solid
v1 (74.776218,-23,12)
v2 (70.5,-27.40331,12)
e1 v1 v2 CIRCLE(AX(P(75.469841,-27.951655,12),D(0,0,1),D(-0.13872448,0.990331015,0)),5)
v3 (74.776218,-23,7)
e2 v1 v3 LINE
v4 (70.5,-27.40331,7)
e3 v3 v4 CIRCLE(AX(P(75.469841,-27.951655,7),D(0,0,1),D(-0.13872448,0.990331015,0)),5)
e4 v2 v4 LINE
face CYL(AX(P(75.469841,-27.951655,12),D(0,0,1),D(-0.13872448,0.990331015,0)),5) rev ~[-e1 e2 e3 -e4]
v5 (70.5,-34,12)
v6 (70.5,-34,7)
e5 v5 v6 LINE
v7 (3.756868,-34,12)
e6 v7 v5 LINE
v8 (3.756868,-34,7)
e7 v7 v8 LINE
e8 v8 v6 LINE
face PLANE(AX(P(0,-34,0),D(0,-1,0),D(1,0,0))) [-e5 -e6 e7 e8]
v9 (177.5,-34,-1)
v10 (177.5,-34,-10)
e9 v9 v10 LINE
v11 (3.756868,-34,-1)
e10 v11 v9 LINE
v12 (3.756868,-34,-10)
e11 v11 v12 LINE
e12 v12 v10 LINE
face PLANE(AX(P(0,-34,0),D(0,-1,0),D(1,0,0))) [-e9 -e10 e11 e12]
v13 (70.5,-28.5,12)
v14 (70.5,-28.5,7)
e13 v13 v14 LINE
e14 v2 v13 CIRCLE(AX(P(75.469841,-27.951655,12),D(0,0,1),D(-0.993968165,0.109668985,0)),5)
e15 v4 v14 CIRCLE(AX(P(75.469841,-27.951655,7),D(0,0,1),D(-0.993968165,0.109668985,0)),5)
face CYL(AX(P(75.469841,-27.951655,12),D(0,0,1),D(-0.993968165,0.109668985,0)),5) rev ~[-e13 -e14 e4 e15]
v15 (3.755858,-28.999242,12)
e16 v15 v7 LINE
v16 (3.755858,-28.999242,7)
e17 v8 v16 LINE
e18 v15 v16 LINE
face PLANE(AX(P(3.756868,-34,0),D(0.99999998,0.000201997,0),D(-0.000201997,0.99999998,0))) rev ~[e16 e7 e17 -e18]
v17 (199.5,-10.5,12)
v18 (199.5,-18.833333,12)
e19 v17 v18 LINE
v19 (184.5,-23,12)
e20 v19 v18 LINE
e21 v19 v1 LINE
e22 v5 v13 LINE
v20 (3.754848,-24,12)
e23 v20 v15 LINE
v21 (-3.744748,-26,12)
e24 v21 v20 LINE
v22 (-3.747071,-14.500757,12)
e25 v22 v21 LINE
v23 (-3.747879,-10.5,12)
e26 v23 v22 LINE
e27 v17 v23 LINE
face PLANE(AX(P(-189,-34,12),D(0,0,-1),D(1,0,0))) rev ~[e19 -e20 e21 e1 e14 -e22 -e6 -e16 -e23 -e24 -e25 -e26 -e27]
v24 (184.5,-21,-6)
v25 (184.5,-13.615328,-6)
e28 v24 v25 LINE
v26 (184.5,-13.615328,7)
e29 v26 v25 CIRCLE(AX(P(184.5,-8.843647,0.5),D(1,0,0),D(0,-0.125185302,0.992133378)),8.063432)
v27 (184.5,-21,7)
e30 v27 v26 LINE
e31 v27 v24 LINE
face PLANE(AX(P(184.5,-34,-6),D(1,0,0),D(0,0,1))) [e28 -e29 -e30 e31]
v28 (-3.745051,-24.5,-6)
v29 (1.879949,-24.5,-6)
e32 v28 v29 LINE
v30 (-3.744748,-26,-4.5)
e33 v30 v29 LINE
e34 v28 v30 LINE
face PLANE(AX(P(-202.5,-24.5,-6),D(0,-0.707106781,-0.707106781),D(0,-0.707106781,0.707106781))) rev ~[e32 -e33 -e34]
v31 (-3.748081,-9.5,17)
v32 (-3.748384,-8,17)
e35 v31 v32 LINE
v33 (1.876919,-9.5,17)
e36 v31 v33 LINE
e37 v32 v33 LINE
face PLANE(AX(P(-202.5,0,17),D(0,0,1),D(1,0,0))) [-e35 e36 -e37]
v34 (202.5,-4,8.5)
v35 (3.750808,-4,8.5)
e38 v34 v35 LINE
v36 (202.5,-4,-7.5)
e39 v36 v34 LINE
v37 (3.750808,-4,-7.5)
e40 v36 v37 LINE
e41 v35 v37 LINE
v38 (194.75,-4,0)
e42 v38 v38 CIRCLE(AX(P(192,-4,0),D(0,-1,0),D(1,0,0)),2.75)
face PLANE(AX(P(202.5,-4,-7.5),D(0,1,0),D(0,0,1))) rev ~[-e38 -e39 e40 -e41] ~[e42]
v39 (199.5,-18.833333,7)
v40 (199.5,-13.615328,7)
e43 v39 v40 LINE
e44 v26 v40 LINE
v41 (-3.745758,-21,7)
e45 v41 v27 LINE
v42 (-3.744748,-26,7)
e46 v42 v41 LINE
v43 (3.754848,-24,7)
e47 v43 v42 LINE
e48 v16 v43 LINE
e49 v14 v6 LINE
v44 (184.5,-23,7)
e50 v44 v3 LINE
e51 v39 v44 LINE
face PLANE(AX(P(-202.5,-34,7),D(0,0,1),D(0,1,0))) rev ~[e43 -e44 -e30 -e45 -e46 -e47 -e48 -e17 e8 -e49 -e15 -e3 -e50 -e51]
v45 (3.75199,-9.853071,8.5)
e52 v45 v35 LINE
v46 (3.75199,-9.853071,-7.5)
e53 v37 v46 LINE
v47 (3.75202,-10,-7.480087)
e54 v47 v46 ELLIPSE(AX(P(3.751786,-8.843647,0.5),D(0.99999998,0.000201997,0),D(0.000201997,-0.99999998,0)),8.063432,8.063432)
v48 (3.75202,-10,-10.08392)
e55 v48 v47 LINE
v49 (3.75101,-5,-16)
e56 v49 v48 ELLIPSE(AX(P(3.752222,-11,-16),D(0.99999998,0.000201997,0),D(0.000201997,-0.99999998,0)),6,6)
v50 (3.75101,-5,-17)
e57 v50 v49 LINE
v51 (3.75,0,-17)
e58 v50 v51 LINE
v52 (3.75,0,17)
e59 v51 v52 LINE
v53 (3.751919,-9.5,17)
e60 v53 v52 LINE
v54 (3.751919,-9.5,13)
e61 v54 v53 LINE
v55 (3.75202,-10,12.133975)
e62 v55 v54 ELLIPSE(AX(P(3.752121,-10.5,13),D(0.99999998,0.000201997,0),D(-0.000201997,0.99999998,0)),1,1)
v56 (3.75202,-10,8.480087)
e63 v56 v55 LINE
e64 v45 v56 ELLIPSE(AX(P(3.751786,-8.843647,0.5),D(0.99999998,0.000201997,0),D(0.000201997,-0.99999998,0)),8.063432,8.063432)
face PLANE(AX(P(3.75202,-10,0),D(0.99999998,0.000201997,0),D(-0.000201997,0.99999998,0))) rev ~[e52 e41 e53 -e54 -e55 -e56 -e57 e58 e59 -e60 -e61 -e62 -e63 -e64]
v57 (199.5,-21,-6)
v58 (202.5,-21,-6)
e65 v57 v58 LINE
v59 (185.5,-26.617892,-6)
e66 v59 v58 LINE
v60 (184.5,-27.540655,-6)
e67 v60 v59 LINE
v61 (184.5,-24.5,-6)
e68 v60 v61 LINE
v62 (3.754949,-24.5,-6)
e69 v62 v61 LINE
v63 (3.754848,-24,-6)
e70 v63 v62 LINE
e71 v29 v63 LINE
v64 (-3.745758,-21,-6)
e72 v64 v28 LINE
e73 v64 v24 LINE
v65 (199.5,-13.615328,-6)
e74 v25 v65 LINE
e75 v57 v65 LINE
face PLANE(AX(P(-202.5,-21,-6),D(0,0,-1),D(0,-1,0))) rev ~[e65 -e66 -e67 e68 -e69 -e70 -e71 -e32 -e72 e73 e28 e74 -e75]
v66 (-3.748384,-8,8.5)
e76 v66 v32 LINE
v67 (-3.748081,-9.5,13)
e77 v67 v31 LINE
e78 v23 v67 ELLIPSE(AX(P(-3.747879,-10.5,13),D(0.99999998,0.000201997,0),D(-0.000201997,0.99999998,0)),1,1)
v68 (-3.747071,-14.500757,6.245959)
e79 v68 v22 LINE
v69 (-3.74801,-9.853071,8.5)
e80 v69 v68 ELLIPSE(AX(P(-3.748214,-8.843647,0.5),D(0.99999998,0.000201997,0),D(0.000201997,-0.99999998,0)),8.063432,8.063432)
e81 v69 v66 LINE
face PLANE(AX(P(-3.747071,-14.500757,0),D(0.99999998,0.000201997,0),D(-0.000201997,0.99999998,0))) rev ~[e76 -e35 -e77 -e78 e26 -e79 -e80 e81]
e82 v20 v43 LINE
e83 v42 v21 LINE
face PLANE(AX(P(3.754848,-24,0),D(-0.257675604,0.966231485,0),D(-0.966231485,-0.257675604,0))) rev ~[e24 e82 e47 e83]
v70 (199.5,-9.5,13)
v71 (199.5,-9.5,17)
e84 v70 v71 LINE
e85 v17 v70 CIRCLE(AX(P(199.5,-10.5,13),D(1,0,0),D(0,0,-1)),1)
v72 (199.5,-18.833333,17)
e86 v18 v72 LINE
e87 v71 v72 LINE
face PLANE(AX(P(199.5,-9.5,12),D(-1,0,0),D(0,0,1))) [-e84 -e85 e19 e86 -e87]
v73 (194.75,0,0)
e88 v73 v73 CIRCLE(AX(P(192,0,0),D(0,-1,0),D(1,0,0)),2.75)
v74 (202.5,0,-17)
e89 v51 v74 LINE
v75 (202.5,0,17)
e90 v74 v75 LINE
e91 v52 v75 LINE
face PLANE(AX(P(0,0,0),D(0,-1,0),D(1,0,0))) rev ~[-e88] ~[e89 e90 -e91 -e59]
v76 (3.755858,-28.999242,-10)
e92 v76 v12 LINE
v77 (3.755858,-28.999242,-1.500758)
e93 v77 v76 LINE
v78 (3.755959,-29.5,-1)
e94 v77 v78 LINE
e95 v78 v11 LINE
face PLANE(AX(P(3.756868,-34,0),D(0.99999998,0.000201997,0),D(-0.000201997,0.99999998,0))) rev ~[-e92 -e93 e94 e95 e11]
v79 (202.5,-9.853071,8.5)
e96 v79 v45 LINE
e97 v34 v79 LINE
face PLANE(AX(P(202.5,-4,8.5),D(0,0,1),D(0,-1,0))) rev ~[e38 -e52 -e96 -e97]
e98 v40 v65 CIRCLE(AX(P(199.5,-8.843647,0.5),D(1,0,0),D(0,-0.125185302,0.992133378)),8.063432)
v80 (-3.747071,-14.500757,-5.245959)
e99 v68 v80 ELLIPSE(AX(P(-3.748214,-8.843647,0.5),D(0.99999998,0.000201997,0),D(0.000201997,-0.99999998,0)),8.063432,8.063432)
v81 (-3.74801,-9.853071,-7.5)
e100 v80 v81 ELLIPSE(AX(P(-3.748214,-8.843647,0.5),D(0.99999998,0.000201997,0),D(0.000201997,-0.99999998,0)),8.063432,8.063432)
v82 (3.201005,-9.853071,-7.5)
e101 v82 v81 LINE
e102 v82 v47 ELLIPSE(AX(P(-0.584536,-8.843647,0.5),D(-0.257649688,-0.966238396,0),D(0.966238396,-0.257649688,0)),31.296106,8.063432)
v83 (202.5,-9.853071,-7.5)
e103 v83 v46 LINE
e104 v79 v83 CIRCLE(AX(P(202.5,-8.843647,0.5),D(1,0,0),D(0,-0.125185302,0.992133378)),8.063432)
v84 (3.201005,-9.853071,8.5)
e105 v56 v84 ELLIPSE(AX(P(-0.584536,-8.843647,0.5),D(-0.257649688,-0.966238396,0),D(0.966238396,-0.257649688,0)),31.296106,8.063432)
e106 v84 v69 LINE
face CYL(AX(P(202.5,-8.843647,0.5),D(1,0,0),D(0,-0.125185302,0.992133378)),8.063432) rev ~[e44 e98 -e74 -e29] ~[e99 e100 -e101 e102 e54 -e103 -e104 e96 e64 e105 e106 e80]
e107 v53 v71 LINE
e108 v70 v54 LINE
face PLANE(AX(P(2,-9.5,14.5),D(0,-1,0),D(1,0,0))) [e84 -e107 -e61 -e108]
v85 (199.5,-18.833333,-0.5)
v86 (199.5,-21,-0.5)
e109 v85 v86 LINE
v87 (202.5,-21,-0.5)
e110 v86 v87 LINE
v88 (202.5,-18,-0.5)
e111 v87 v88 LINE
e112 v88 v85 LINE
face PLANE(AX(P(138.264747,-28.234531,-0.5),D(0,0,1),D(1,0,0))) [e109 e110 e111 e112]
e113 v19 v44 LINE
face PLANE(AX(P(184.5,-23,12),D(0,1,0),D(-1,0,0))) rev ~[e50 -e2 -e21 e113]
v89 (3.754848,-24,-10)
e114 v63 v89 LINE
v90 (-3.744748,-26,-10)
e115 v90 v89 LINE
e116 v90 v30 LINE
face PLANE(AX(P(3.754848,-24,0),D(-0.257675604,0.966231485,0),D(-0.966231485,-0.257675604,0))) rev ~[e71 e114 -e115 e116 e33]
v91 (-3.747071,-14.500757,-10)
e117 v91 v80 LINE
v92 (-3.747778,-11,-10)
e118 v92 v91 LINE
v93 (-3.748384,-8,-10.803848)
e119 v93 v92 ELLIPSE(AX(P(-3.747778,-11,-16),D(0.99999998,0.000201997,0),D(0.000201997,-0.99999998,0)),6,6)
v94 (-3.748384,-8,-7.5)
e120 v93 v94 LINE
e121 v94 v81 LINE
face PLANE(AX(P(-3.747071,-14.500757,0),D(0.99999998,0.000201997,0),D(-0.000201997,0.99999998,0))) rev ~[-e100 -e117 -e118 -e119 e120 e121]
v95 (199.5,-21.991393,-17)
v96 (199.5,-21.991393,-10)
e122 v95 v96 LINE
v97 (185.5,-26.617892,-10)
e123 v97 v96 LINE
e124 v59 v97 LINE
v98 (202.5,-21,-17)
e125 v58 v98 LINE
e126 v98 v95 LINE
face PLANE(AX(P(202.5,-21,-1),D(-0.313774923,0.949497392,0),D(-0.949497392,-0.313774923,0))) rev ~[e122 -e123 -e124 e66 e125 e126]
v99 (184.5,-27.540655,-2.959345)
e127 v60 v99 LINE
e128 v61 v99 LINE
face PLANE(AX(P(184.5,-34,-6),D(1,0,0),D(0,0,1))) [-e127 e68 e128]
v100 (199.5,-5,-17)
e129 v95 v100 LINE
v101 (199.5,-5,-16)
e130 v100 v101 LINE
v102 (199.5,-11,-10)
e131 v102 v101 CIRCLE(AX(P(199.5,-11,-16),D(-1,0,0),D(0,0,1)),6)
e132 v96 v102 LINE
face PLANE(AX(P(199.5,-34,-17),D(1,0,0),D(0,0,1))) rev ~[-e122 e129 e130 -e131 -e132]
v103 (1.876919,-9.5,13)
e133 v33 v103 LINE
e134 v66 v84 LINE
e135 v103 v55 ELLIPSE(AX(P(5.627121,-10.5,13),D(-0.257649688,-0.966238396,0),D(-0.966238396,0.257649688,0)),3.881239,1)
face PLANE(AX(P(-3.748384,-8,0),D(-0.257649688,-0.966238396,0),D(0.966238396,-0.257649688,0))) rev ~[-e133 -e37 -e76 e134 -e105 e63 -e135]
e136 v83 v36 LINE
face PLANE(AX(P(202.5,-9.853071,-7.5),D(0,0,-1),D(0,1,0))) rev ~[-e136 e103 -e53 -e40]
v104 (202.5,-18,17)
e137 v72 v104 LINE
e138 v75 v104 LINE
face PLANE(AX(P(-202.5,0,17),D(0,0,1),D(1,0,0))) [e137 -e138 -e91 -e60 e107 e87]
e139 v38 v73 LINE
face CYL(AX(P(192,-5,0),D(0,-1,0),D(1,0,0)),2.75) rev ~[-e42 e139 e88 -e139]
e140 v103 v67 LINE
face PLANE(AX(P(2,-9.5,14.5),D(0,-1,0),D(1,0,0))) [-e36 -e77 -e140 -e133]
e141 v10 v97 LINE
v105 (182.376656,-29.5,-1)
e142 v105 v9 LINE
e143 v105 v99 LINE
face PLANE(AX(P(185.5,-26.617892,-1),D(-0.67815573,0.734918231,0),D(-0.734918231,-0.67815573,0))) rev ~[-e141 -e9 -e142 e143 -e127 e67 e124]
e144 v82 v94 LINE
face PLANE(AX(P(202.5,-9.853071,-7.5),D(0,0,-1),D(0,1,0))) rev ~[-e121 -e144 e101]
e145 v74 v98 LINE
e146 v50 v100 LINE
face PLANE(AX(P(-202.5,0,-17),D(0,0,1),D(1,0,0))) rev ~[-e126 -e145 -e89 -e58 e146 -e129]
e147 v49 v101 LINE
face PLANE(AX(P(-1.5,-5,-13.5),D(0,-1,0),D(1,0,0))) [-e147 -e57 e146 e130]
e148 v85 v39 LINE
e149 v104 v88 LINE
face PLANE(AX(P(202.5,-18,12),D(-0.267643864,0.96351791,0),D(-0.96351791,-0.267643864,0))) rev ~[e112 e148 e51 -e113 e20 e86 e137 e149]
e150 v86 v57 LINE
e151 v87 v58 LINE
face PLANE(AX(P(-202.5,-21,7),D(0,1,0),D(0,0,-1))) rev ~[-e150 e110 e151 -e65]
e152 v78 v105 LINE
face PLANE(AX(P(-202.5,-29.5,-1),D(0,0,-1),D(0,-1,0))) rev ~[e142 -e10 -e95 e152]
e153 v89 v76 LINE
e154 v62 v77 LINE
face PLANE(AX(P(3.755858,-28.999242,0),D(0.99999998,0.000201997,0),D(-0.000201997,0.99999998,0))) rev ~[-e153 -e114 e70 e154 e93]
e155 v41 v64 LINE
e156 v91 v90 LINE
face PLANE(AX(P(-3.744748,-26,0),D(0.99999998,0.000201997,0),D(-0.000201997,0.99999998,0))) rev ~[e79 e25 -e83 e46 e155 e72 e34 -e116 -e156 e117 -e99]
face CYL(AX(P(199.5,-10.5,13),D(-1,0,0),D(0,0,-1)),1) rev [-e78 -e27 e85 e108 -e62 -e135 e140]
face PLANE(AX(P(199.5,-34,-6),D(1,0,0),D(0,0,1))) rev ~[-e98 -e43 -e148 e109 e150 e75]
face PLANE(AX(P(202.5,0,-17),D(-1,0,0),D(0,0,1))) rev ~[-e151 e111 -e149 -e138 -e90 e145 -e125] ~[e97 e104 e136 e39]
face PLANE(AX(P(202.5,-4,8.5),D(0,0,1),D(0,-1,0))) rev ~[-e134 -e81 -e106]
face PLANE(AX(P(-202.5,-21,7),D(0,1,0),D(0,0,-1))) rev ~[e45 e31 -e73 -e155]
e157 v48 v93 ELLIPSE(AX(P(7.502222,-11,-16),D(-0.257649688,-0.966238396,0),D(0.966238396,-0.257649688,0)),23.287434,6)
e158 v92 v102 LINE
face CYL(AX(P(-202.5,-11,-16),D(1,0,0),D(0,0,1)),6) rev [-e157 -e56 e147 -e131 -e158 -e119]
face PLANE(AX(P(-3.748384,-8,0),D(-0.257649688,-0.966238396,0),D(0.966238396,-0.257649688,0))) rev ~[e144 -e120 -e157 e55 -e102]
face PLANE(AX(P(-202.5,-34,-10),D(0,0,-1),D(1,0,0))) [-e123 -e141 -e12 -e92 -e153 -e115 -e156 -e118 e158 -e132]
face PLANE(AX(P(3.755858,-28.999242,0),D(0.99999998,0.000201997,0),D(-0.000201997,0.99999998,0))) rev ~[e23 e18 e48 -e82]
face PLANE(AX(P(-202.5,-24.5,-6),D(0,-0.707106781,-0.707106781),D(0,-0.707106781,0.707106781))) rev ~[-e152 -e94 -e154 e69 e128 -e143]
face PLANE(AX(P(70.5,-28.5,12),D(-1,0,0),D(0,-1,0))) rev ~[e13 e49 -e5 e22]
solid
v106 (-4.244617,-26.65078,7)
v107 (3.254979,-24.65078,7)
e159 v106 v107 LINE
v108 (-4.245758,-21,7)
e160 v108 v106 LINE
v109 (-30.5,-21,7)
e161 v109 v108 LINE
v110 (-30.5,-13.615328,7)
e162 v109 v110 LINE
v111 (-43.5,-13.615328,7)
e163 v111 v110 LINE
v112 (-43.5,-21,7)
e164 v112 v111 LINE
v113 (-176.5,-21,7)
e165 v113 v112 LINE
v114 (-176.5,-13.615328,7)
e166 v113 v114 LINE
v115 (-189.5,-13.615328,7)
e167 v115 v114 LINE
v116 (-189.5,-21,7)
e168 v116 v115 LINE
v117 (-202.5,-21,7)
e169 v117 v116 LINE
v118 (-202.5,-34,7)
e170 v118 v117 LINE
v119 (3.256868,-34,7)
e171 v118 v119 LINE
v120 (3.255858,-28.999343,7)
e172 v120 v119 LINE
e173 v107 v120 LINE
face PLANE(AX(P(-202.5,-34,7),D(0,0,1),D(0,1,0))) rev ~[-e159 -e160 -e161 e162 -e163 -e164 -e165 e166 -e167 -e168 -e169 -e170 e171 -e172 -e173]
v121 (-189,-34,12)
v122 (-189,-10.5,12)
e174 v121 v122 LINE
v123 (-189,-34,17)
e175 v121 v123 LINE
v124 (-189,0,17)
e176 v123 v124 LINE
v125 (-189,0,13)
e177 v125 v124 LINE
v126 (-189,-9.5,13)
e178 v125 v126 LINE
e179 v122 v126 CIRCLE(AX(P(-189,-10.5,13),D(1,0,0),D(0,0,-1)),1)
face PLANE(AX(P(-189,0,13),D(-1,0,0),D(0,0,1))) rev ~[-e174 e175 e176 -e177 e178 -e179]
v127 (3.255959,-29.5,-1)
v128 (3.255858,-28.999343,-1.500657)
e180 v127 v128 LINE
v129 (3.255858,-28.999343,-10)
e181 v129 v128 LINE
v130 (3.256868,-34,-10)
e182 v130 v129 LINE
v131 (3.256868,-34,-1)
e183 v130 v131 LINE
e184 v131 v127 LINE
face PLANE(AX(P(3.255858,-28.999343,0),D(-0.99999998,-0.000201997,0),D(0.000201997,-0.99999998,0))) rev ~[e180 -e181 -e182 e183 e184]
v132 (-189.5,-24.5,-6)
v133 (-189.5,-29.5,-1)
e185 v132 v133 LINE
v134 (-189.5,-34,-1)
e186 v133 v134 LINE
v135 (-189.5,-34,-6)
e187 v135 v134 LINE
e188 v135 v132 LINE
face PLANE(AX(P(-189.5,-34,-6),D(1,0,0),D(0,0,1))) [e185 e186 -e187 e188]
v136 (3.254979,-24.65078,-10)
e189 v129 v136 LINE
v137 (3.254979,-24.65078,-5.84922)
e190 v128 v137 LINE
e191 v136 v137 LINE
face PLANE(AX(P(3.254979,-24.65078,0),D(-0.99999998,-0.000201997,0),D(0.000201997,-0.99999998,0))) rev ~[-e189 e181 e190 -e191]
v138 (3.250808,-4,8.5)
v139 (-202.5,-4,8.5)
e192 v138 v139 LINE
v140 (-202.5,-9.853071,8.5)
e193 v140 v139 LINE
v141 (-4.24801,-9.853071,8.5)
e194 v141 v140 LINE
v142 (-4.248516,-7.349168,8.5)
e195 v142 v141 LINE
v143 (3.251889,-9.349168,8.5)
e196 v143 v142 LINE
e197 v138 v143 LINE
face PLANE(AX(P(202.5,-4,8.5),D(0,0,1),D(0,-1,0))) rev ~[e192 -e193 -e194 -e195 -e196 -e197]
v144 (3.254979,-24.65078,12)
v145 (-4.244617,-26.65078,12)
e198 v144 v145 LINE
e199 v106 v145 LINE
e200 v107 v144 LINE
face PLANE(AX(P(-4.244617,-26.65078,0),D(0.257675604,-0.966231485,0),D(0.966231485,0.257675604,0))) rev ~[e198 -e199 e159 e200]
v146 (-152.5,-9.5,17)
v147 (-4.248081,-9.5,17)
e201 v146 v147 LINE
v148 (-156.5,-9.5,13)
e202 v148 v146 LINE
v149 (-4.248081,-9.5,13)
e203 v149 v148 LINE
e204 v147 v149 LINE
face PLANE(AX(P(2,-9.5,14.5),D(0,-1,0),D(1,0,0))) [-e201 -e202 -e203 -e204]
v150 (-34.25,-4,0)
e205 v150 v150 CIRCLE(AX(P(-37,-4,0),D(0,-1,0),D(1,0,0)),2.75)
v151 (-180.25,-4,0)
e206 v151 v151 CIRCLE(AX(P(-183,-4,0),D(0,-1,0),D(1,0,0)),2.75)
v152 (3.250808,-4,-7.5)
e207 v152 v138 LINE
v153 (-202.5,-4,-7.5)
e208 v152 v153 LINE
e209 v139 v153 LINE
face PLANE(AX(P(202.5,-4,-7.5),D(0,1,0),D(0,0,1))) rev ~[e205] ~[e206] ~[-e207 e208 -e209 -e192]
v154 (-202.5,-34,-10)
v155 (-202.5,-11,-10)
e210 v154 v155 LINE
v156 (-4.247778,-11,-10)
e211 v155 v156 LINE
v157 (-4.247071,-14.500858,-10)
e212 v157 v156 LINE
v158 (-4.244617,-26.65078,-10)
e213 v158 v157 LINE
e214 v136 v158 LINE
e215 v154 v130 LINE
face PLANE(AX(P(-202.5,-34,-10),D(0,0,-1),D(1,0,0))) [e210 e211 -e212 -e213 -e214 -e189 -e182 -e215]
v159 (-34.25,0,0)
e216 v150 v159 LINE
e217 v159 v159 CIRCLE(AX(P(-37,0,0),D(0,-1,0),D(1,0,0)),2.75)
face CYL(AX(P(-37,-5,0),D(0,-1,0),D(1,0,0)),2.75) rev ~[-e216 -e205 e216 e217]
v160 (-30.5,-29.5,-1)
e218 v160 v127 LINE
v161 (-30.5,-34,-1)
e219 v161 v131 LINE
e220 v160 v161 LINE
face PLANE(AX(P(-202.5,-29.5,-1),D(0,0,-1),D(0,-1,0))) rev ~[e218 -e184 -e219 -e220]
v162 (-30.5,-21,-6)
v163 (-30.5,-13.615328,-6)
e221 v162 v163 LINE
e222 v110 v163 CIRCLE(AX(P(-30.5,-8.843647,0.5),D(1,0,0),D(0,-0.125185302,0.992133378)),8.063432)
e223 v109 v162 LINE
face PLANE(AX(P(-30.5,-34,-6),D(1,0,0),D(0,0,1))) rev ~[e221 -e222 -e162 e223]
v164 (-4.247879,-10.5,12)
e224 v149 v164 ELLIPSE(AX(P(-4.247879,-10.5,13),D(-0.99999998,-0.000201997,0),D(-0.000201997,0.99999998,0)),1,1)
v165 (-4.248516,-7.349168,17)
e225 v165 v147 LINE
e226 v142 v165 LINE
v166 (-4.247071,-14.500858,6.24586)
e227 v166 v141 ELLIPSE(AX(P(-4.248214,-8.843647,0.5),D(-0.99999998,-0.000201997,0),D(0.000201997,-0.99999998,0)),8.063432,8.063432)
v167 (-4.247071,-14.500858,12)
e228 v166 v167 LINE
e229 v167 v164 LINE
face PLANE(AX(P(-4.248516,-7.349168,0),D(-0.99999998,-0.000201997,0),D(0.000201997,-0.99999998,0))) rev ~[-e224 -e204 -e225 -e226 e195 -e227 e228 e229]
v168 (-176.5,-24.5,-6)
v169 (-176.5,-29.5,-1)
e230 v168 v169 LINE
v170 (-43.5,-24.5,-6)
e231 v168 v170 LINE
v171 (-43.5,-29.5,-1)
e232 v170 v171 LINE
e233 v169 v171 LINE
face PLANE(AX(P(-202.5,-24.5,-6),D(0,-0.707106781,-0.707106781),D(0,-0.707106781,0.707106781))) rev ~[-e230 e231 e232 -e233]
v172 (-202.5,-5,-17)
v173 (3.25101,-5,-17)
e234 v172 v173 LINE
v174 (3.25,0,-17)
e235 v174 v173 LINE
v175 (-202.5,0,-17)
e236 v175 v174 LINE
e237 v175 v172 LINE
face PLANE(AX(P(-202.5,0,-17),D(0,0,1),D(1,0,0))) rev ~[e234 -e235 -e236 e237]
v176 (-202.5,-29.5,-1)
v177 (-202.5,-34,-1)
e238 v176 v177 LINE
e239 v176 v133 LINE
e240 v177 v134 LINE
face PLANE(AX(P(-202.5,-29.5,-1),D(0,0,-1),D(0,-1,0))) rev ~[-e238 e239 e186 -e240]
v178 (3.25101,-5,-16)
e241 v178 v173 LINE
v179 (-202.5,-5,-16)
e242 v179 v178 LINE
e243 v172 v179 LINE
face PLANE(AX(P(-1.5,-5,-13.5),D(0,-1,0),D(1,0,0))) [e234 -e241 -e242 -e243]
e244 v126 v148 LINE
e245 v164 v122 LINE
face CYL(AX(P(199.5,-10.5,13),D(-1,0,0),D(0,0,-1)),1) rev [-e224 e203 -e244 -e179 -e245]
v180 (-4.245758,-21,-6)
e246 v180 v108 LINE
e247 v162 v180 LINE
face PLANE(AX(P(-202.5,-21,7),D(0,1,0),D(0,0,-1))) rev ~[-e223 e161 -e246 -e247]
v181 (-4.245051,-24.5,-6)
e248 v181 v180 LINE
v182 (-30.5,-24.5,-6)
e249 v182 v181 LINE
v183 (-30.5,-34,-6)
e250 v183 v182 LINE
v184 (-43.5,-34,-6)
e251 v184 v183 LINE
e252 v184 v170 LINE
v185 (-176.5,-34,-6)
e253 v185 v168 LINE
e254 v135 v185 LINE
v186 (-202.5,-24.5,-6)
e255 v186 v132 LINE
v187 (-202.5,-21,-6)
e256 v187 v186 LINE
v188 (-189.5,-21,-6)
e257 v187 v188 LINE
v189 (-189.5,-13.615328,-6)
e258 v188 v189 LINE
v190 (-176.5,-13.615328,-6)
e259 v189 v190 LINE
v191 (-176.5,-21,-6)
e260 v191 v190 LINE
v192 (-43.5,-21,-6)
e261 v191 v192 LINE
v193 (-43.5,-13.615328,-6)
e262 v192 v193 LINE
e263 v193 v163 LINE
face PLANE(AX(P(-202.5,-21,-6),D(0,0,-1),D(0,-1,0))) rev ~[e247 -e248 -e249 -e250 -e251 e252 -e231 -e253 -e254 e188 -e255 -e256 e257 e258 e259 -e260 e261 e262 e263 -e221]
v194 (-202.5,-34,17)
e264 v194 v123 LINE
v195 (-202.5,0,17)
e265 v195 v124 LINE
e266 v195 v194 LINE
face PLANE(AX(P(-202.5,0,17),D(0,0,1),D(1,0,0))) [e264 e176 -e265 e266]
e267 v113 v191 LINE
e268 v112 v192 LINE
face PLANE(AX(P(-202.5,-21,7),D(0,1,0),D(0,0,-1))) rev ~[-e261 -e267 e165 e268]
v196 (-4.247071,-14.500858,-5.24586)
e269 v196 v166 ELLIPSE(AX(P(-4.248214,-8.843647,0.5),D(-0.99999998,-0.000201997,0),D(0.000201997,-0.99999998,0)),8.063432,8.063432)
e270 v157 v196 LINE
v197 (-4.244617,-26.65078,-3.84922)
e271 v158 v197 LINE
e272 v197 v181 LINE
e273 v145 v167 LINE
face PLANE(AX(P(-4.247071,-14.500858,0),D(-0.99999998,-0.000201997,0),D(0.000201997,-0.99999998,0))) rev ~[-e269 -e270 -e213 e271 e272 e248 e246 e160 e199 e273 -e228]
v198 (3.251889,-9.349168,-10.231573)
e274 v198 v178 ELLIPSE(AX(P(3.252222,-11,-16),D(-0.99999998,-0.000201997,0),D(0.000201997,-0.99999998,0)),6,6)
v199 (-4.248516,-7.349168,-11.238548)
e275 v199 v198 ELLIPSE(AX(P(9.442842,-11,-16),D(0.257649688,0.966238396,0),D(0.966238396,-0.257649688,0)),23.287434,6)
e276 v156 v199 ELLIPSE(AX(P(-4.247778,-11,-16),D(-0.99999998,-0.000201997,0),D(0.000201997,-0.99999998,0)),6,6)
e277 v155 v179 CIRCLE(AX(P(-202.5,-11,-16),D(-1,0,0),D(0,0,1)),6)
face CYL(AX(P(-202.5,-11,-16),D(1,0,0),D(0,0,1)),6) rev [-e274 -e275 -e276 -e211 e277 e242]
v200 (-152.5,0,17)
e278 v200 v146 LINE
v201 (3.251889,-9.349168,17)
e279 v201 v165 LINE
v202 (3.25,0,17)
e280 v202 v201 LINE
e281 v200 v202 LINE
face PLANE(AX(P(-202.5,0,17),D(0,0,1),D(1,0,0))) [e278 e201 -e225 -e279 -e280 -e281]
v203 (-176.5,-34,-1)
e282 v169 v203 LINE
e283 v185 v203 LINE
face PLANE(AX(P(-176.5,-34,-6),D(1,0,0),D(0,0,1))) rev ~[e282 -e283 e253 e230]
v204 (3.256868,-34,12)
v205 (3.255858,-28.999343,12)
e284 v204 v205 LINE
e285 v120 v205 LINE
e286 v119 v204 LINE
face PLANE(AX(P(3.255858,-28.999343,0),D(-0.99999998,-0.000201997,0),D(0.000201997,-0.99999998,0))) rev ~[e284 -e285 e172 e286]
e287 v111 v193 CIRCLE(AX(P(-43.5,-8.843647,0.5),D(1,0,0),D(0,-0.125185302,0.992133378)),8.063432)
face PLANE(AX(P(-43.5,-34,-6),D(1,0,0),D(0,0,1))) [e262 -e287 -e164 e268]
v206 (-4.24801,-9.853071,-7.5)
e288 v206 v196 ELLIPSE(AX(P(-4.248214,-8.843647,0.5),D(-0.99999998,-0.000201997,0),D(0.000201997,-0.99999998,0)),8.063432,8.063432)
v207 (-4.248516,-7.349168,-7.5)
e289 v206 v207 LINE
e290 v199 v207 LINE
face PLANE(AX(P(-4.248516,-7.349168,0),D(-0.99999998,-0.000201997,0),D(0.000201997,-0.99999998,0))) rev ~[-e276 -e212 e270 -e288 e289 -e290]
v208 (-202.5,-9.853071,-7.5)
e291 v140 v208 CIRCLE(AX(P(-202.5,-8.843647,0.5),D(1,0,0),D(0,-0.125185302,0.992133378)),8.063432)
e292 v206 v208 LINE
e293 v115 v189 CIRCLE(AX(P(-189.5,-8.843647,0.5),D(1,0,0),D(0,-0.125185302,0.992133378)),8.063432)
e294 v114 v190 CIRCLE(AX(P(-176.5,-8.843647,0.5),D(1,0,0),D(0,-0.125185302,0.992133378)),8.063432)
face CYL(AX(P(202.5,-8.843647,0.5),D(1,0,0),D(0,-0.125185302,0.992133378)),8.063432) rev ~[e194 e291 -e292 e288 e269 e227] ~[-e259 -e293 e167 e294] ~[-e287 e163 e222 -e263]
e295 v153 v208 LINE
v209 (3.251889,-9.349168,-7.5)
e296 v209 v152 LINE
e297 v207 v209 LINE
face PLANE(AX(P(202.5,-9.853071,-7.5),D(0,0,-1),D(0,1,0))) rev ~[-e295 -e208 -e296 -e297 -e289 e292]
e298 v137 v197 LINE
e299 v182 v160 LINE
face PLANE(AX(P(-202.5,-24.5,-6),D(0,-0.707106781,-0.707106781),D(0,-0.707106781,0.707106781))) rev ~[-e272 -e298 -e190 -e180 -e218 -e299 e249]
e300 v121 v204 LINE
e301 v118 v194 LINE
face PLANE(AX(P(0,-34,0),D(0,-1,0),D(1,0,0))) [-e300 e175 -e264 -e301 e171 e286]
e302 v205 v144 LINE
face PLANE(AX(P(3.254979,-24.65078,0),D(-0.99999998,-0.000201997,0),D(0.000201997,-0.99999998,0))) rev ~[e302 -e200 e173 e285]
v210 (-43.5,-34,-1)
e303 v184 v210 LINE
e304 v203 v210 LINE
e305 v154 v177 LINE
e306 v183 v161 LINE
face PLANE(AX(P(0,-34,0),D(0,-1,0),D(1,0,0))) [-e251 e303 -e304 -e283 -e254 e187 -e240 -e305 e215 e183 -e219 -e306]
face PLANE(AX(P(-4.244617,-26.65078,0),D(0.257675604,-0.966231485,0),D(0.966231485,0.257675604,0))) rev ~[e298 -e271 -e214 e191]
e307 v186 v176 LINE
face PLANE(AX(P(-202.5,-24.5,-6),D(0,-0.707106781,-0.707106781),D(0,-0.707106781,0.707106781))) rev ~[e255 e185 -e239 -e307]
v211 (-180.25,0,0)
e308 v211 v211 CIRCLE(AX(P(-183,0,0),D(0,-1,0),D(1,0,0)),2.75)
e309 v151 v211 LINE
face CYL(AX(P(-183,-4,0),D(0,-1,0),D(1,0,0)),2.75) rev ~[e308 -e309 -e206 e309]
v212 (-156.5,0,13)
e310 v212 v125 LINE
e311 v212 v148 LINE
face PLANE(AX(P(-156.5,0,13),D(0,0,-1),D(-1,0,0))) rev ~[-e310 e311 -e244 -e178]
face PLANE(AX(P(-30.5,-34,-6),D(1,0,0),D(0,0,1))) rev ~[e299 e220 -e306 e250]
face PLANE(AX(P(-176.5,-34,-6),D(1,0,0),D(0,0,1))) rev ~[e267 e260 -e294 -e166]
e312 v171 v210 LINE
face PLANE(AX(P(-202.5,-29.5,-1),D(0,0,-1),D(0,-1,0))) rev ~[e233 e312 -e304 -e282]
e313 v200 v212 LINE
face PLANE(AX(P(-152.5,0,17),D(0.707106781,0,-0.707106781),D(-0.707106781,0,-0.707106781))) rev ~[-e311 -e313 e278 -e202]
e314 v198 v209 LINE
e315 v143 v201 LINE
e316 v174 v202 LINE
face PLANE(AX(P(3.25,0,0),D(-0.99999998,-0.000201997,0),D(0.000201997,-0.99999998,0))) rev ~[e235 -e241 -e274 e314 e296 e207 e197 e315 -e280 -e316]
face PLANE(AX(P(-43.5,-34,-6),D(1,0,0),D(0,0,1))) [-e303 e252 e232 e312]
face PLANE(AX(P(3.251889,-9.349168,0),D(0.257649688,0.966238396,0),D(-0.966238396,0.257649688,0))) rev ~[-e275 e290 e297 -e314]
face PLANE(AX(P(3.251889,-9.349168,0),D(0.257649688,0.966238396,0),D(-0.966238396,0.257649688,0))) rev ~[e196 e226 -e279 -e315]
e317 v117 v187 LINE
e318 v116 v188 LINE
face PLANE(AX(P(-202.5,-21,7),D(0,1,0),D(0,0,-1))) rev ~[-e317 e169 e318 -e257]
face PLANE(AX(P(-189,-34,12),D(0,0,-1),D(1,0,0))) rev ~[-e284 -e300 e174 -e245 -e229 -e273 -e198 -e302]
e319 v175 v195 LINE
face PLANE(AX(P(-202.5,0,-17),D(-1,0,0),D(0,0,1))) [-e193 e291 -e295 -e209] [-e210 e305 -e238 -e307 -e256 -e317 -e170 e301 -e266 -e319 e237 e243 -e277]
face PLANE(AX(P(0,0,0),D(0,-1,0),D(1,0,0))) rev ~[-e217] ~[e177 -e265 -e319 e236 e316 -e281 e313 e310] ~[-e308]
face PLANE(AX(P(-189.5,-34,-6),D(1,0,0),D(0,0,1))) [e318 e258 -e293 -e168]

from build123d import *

# Parameters (mm, degrees)
F0_W      = 405
F0_H      = 34
F1_DEPTH  = 34
F2_W      = 402
F2_H      = 7
F3_DEPTH  = 29
F4_W      = 382
F4_H      = 5
F5_DEPTH  = 24.5
F6_R      = 6
F8_DEPTH  = 405.001
F10_DEPTH = 34.001
F11_W     = 13
F11_H     = 13
F12_DEPTH = 30
F13_R     = 2.75
F14_DEPTH = 4.001
F15_W     = 13
F15_H     = 13
F16_DEPTH = 29
F17_R     = 2.75
F18_DEPTH = 5.001
F19_W     = 15
F19_H     = 13
F20_DEPTH = 29
F21_R     = 2.75
F22_DEPTH = 5.001
F24_DEPTH = 12.5
F26_DEPTH = 25
F27_W     = 6.5
F27_H     = 5
F28_DEPTH = 25
F29_R     = 1
F31_DEPTH = 405.001
F33_DEPTH = 17.5


with BuildPart() as f1:
    # F0 (on Front) → F1 (new body)
    with BuildSketch(Plane.XZ):
        Rectangle(F0_W, F0_H)
    extrude(amount=F1_DEPTH)

    # F2 (on face) → F3 (cut)
    with BuildSketch(Plane.XZ.offset(34)):
        with Locations((-1.5, -13.5)):
            Rectangle(F2_W, F2_H)
    extrude(amount=-F3_DEPTH, mode=Mode.SUBTRACT)

    # F4 (on face) → F5 (cut)
    with BuildSketch(Plane.XZ.offset(34)):
        with Locations((2, 14.5)):
            Rectangle(F4_W, F4_H)
    extrude(amount=-F5_DEPTH, mode=Mode.SUBTRACT)

    # F6
    f6_edges = [f1.edges().sort_by_distance(p)[0] for p in [
        (-1.5, -5, -10),
    ]]
    fillet(f6_edges, radius=F6_R)

    # F7 (on face) → F8 (cut, through all)
    with BuildSketch(Plane(origin=(-202.5, 0, 0), x_dir=(0, -1, 0), z_dir=(-1, 0, 0))):
        Polygon((34, -1), (34, 7), (21, 7), (21, -6), (24.5, -6), (29.5, -1), align=None)
    extrude(amount=-F8_DEPTH, mode=Mode.SUBTRACT)

    # F9 (on face) → F10 (cut, through all)
    with BuildSketch(Plane(origin=(0, 0, 0), x_dir=(-1, 0, 0), z_dir=(0, 1, 0))):
        Polygon((189, 13), (189, 17), (155.211314559, 17), (152.5, 17), (156.5, 13), align=None)
    extrude(amount=-F10_DEPTH, mode=Mode.SUBTRACT)

    # F11 (on face) → F12 (cut)
    with BuildSketch(Plane.XZ.offset(34)):
        with Locations((-183, 0.5)):
            Rectangle(F11_W, F11_H)
    extrude(amount=-F12_DEPTH, mode=Mode.SUBTRACT)

    # F13 (on face) → F14 (cut, through all)
    with BuildSketch(Plane.XZ.offset(4)):
        with Locations((-183, 0)):
            Circle(F13_R)
    extrude(amount=-F14_DEPTH, mode=Mode.SUBTRACT)

    # F15 (on face) → F16 (cut)
    with BuildSketch(Plane.XZ.offset(34)):
        with Locations((-37, 0.5)):
            Rectangle(F15_W, F15_H)
    extrude(amount=-F16_DEPTH, mode=Mode.SUBTRACT)

    # F17 (on face) → F18 (cut, through all)
    with BuildSketch(Plane.XZ.offset(5)):
        with Locations((-37, 0)):
            Circle(F17_R)
    extrude(amount=-F18_DEPTH, mode=Mode.SUBTRACT)

    # F19 (on face) → F20 (cut)
    with BuildSketch(Plane.XZ.offset(34)):
        with Locations((192, 0.5)):
            Rectangle(F19_W, F19_H)
    extrude(amount=-F20_DEPTH, mode=Mode.SUBTRACT)

    # F21 (on face) → F22 (cut, through all)
    with BuildSketch(Plane.XZ.offset(5)):
        with Locations((192, 0)):
            Circle(F21_R)
    extrude(amount=-F22_DEPTH, mode=Mode.SUBTRACT)

    # F23 (on face) → F24 (cut, symmetric)
    with BuildSketch(Plane.XY.offset(12)):
        with BuildLine():
            Line((70.5, -28.5), (70.5, -34))
            Line((70.5, -34), (202.5, -34))
            Line((202.5, -34), (202.5, -18))
            Line((202.5, -18), (184.5, -23))
            Line((184.5, -23), (74.7762184258, -23))
            ThreePointArc((74.7762184258, -23), (71.8829216759, -24.4682643392), (70.5, -27.4033101466))
            Line((70.5, -27.4033101466), (70.5, -28.5))
        make_face()
        with BuildLine():
            ThreePointArc((70.5, -27.4033101466), (70.4698408266, -27.9516550733), (70.5, -28.5))
            Line((70.5, -28.5), (70.5, -27.4033101466))
        make_face()
    extrude(amount=F24_DEPTH, both=True, mode=Mode.SUBTRACT)

    # F25 (on face) → F26 (cut)
    with BuildSketch(Plane.XY.offset(-1)):
        Polygon((185.5, -26.6178918779), (177.5, -34), (202.5, -34), (202.5, -21), align=None)
    extrude(amount=-F26_DEPTH, mode=Mode.SUBTRACT)

    # F27 (on face) → F28 (cut)
    with BuildSketch(Plane.XZ.offset(9.5)):
        with Locations((196.25, 14.5)):
            Rectangle(F27_W, F27_H)
    extrude(amount=F28_DEPTH, mode=Mode.SUBTRACT)

    # F29
    f29_edges = [f1.edges().sort_by_distance(p)[0] for p in [
        (5.25, -9.5, 12),
    ]]
    fillet(f29_edges, radius=F29_R)

    # F30 (on face) → F31 (cut, through all)
    with BuildSketch(Plane.YZ.offset(202.5)):
        with BuildLine():
            Line((-4, -7.5), (-4, -6))
            Line((-4, -6), (-4, 7))
            Line((-4, 7), (-4, 8.5))
            Line((-4, 8.5), (-9.8530706018, 8.5))
            ThreePointArc((-9.8530706018, 8.5), (-16.9070794038, 0.5), (-9.8530706018, -7.5))
            Line((-9.8530706018, -7.5), (-4, -7.5))
        make_face()
    extrude(amount=-F31_DEPTH, mode=Mode.SUBTRACT)

    # F32 (on Top) → F33 (cut, symmetric)
    with BuildSketch(Plane.XY):
        Polygon((3.7548480159, -24), (-3.7447481422, -26), (-3.7470709602, -14.5007571947), (-4.24707095, -14.5008581934), (-4.2446166965, -26.650779799), (3.2549794615, -24.650779799), (3.2558578603, -28.9993429166), (3.7558578501, -28.9992419178), align=None)
        Polygon((-4.24707095, -14.5008581934), (-3.7470709602, -14.5007571947), (-3.7483840967, -8), (3.7520200512, -10), (3.7500000765, 0), (3.2500000663, 0), (3.2518885746, -9.3491681538), (-4.2485155733, -7.3491681538), align=None)
        Polygon((3.7568679906, -34), (3.7558578501, -28.9992419178), (3.2558578603, -28.9993429166), (3.2568679804, -34), align=None)
    extrude(amount=F33_DEPTH, both=True, mode=Mode.SUBTRACT)


solid = f1.part
